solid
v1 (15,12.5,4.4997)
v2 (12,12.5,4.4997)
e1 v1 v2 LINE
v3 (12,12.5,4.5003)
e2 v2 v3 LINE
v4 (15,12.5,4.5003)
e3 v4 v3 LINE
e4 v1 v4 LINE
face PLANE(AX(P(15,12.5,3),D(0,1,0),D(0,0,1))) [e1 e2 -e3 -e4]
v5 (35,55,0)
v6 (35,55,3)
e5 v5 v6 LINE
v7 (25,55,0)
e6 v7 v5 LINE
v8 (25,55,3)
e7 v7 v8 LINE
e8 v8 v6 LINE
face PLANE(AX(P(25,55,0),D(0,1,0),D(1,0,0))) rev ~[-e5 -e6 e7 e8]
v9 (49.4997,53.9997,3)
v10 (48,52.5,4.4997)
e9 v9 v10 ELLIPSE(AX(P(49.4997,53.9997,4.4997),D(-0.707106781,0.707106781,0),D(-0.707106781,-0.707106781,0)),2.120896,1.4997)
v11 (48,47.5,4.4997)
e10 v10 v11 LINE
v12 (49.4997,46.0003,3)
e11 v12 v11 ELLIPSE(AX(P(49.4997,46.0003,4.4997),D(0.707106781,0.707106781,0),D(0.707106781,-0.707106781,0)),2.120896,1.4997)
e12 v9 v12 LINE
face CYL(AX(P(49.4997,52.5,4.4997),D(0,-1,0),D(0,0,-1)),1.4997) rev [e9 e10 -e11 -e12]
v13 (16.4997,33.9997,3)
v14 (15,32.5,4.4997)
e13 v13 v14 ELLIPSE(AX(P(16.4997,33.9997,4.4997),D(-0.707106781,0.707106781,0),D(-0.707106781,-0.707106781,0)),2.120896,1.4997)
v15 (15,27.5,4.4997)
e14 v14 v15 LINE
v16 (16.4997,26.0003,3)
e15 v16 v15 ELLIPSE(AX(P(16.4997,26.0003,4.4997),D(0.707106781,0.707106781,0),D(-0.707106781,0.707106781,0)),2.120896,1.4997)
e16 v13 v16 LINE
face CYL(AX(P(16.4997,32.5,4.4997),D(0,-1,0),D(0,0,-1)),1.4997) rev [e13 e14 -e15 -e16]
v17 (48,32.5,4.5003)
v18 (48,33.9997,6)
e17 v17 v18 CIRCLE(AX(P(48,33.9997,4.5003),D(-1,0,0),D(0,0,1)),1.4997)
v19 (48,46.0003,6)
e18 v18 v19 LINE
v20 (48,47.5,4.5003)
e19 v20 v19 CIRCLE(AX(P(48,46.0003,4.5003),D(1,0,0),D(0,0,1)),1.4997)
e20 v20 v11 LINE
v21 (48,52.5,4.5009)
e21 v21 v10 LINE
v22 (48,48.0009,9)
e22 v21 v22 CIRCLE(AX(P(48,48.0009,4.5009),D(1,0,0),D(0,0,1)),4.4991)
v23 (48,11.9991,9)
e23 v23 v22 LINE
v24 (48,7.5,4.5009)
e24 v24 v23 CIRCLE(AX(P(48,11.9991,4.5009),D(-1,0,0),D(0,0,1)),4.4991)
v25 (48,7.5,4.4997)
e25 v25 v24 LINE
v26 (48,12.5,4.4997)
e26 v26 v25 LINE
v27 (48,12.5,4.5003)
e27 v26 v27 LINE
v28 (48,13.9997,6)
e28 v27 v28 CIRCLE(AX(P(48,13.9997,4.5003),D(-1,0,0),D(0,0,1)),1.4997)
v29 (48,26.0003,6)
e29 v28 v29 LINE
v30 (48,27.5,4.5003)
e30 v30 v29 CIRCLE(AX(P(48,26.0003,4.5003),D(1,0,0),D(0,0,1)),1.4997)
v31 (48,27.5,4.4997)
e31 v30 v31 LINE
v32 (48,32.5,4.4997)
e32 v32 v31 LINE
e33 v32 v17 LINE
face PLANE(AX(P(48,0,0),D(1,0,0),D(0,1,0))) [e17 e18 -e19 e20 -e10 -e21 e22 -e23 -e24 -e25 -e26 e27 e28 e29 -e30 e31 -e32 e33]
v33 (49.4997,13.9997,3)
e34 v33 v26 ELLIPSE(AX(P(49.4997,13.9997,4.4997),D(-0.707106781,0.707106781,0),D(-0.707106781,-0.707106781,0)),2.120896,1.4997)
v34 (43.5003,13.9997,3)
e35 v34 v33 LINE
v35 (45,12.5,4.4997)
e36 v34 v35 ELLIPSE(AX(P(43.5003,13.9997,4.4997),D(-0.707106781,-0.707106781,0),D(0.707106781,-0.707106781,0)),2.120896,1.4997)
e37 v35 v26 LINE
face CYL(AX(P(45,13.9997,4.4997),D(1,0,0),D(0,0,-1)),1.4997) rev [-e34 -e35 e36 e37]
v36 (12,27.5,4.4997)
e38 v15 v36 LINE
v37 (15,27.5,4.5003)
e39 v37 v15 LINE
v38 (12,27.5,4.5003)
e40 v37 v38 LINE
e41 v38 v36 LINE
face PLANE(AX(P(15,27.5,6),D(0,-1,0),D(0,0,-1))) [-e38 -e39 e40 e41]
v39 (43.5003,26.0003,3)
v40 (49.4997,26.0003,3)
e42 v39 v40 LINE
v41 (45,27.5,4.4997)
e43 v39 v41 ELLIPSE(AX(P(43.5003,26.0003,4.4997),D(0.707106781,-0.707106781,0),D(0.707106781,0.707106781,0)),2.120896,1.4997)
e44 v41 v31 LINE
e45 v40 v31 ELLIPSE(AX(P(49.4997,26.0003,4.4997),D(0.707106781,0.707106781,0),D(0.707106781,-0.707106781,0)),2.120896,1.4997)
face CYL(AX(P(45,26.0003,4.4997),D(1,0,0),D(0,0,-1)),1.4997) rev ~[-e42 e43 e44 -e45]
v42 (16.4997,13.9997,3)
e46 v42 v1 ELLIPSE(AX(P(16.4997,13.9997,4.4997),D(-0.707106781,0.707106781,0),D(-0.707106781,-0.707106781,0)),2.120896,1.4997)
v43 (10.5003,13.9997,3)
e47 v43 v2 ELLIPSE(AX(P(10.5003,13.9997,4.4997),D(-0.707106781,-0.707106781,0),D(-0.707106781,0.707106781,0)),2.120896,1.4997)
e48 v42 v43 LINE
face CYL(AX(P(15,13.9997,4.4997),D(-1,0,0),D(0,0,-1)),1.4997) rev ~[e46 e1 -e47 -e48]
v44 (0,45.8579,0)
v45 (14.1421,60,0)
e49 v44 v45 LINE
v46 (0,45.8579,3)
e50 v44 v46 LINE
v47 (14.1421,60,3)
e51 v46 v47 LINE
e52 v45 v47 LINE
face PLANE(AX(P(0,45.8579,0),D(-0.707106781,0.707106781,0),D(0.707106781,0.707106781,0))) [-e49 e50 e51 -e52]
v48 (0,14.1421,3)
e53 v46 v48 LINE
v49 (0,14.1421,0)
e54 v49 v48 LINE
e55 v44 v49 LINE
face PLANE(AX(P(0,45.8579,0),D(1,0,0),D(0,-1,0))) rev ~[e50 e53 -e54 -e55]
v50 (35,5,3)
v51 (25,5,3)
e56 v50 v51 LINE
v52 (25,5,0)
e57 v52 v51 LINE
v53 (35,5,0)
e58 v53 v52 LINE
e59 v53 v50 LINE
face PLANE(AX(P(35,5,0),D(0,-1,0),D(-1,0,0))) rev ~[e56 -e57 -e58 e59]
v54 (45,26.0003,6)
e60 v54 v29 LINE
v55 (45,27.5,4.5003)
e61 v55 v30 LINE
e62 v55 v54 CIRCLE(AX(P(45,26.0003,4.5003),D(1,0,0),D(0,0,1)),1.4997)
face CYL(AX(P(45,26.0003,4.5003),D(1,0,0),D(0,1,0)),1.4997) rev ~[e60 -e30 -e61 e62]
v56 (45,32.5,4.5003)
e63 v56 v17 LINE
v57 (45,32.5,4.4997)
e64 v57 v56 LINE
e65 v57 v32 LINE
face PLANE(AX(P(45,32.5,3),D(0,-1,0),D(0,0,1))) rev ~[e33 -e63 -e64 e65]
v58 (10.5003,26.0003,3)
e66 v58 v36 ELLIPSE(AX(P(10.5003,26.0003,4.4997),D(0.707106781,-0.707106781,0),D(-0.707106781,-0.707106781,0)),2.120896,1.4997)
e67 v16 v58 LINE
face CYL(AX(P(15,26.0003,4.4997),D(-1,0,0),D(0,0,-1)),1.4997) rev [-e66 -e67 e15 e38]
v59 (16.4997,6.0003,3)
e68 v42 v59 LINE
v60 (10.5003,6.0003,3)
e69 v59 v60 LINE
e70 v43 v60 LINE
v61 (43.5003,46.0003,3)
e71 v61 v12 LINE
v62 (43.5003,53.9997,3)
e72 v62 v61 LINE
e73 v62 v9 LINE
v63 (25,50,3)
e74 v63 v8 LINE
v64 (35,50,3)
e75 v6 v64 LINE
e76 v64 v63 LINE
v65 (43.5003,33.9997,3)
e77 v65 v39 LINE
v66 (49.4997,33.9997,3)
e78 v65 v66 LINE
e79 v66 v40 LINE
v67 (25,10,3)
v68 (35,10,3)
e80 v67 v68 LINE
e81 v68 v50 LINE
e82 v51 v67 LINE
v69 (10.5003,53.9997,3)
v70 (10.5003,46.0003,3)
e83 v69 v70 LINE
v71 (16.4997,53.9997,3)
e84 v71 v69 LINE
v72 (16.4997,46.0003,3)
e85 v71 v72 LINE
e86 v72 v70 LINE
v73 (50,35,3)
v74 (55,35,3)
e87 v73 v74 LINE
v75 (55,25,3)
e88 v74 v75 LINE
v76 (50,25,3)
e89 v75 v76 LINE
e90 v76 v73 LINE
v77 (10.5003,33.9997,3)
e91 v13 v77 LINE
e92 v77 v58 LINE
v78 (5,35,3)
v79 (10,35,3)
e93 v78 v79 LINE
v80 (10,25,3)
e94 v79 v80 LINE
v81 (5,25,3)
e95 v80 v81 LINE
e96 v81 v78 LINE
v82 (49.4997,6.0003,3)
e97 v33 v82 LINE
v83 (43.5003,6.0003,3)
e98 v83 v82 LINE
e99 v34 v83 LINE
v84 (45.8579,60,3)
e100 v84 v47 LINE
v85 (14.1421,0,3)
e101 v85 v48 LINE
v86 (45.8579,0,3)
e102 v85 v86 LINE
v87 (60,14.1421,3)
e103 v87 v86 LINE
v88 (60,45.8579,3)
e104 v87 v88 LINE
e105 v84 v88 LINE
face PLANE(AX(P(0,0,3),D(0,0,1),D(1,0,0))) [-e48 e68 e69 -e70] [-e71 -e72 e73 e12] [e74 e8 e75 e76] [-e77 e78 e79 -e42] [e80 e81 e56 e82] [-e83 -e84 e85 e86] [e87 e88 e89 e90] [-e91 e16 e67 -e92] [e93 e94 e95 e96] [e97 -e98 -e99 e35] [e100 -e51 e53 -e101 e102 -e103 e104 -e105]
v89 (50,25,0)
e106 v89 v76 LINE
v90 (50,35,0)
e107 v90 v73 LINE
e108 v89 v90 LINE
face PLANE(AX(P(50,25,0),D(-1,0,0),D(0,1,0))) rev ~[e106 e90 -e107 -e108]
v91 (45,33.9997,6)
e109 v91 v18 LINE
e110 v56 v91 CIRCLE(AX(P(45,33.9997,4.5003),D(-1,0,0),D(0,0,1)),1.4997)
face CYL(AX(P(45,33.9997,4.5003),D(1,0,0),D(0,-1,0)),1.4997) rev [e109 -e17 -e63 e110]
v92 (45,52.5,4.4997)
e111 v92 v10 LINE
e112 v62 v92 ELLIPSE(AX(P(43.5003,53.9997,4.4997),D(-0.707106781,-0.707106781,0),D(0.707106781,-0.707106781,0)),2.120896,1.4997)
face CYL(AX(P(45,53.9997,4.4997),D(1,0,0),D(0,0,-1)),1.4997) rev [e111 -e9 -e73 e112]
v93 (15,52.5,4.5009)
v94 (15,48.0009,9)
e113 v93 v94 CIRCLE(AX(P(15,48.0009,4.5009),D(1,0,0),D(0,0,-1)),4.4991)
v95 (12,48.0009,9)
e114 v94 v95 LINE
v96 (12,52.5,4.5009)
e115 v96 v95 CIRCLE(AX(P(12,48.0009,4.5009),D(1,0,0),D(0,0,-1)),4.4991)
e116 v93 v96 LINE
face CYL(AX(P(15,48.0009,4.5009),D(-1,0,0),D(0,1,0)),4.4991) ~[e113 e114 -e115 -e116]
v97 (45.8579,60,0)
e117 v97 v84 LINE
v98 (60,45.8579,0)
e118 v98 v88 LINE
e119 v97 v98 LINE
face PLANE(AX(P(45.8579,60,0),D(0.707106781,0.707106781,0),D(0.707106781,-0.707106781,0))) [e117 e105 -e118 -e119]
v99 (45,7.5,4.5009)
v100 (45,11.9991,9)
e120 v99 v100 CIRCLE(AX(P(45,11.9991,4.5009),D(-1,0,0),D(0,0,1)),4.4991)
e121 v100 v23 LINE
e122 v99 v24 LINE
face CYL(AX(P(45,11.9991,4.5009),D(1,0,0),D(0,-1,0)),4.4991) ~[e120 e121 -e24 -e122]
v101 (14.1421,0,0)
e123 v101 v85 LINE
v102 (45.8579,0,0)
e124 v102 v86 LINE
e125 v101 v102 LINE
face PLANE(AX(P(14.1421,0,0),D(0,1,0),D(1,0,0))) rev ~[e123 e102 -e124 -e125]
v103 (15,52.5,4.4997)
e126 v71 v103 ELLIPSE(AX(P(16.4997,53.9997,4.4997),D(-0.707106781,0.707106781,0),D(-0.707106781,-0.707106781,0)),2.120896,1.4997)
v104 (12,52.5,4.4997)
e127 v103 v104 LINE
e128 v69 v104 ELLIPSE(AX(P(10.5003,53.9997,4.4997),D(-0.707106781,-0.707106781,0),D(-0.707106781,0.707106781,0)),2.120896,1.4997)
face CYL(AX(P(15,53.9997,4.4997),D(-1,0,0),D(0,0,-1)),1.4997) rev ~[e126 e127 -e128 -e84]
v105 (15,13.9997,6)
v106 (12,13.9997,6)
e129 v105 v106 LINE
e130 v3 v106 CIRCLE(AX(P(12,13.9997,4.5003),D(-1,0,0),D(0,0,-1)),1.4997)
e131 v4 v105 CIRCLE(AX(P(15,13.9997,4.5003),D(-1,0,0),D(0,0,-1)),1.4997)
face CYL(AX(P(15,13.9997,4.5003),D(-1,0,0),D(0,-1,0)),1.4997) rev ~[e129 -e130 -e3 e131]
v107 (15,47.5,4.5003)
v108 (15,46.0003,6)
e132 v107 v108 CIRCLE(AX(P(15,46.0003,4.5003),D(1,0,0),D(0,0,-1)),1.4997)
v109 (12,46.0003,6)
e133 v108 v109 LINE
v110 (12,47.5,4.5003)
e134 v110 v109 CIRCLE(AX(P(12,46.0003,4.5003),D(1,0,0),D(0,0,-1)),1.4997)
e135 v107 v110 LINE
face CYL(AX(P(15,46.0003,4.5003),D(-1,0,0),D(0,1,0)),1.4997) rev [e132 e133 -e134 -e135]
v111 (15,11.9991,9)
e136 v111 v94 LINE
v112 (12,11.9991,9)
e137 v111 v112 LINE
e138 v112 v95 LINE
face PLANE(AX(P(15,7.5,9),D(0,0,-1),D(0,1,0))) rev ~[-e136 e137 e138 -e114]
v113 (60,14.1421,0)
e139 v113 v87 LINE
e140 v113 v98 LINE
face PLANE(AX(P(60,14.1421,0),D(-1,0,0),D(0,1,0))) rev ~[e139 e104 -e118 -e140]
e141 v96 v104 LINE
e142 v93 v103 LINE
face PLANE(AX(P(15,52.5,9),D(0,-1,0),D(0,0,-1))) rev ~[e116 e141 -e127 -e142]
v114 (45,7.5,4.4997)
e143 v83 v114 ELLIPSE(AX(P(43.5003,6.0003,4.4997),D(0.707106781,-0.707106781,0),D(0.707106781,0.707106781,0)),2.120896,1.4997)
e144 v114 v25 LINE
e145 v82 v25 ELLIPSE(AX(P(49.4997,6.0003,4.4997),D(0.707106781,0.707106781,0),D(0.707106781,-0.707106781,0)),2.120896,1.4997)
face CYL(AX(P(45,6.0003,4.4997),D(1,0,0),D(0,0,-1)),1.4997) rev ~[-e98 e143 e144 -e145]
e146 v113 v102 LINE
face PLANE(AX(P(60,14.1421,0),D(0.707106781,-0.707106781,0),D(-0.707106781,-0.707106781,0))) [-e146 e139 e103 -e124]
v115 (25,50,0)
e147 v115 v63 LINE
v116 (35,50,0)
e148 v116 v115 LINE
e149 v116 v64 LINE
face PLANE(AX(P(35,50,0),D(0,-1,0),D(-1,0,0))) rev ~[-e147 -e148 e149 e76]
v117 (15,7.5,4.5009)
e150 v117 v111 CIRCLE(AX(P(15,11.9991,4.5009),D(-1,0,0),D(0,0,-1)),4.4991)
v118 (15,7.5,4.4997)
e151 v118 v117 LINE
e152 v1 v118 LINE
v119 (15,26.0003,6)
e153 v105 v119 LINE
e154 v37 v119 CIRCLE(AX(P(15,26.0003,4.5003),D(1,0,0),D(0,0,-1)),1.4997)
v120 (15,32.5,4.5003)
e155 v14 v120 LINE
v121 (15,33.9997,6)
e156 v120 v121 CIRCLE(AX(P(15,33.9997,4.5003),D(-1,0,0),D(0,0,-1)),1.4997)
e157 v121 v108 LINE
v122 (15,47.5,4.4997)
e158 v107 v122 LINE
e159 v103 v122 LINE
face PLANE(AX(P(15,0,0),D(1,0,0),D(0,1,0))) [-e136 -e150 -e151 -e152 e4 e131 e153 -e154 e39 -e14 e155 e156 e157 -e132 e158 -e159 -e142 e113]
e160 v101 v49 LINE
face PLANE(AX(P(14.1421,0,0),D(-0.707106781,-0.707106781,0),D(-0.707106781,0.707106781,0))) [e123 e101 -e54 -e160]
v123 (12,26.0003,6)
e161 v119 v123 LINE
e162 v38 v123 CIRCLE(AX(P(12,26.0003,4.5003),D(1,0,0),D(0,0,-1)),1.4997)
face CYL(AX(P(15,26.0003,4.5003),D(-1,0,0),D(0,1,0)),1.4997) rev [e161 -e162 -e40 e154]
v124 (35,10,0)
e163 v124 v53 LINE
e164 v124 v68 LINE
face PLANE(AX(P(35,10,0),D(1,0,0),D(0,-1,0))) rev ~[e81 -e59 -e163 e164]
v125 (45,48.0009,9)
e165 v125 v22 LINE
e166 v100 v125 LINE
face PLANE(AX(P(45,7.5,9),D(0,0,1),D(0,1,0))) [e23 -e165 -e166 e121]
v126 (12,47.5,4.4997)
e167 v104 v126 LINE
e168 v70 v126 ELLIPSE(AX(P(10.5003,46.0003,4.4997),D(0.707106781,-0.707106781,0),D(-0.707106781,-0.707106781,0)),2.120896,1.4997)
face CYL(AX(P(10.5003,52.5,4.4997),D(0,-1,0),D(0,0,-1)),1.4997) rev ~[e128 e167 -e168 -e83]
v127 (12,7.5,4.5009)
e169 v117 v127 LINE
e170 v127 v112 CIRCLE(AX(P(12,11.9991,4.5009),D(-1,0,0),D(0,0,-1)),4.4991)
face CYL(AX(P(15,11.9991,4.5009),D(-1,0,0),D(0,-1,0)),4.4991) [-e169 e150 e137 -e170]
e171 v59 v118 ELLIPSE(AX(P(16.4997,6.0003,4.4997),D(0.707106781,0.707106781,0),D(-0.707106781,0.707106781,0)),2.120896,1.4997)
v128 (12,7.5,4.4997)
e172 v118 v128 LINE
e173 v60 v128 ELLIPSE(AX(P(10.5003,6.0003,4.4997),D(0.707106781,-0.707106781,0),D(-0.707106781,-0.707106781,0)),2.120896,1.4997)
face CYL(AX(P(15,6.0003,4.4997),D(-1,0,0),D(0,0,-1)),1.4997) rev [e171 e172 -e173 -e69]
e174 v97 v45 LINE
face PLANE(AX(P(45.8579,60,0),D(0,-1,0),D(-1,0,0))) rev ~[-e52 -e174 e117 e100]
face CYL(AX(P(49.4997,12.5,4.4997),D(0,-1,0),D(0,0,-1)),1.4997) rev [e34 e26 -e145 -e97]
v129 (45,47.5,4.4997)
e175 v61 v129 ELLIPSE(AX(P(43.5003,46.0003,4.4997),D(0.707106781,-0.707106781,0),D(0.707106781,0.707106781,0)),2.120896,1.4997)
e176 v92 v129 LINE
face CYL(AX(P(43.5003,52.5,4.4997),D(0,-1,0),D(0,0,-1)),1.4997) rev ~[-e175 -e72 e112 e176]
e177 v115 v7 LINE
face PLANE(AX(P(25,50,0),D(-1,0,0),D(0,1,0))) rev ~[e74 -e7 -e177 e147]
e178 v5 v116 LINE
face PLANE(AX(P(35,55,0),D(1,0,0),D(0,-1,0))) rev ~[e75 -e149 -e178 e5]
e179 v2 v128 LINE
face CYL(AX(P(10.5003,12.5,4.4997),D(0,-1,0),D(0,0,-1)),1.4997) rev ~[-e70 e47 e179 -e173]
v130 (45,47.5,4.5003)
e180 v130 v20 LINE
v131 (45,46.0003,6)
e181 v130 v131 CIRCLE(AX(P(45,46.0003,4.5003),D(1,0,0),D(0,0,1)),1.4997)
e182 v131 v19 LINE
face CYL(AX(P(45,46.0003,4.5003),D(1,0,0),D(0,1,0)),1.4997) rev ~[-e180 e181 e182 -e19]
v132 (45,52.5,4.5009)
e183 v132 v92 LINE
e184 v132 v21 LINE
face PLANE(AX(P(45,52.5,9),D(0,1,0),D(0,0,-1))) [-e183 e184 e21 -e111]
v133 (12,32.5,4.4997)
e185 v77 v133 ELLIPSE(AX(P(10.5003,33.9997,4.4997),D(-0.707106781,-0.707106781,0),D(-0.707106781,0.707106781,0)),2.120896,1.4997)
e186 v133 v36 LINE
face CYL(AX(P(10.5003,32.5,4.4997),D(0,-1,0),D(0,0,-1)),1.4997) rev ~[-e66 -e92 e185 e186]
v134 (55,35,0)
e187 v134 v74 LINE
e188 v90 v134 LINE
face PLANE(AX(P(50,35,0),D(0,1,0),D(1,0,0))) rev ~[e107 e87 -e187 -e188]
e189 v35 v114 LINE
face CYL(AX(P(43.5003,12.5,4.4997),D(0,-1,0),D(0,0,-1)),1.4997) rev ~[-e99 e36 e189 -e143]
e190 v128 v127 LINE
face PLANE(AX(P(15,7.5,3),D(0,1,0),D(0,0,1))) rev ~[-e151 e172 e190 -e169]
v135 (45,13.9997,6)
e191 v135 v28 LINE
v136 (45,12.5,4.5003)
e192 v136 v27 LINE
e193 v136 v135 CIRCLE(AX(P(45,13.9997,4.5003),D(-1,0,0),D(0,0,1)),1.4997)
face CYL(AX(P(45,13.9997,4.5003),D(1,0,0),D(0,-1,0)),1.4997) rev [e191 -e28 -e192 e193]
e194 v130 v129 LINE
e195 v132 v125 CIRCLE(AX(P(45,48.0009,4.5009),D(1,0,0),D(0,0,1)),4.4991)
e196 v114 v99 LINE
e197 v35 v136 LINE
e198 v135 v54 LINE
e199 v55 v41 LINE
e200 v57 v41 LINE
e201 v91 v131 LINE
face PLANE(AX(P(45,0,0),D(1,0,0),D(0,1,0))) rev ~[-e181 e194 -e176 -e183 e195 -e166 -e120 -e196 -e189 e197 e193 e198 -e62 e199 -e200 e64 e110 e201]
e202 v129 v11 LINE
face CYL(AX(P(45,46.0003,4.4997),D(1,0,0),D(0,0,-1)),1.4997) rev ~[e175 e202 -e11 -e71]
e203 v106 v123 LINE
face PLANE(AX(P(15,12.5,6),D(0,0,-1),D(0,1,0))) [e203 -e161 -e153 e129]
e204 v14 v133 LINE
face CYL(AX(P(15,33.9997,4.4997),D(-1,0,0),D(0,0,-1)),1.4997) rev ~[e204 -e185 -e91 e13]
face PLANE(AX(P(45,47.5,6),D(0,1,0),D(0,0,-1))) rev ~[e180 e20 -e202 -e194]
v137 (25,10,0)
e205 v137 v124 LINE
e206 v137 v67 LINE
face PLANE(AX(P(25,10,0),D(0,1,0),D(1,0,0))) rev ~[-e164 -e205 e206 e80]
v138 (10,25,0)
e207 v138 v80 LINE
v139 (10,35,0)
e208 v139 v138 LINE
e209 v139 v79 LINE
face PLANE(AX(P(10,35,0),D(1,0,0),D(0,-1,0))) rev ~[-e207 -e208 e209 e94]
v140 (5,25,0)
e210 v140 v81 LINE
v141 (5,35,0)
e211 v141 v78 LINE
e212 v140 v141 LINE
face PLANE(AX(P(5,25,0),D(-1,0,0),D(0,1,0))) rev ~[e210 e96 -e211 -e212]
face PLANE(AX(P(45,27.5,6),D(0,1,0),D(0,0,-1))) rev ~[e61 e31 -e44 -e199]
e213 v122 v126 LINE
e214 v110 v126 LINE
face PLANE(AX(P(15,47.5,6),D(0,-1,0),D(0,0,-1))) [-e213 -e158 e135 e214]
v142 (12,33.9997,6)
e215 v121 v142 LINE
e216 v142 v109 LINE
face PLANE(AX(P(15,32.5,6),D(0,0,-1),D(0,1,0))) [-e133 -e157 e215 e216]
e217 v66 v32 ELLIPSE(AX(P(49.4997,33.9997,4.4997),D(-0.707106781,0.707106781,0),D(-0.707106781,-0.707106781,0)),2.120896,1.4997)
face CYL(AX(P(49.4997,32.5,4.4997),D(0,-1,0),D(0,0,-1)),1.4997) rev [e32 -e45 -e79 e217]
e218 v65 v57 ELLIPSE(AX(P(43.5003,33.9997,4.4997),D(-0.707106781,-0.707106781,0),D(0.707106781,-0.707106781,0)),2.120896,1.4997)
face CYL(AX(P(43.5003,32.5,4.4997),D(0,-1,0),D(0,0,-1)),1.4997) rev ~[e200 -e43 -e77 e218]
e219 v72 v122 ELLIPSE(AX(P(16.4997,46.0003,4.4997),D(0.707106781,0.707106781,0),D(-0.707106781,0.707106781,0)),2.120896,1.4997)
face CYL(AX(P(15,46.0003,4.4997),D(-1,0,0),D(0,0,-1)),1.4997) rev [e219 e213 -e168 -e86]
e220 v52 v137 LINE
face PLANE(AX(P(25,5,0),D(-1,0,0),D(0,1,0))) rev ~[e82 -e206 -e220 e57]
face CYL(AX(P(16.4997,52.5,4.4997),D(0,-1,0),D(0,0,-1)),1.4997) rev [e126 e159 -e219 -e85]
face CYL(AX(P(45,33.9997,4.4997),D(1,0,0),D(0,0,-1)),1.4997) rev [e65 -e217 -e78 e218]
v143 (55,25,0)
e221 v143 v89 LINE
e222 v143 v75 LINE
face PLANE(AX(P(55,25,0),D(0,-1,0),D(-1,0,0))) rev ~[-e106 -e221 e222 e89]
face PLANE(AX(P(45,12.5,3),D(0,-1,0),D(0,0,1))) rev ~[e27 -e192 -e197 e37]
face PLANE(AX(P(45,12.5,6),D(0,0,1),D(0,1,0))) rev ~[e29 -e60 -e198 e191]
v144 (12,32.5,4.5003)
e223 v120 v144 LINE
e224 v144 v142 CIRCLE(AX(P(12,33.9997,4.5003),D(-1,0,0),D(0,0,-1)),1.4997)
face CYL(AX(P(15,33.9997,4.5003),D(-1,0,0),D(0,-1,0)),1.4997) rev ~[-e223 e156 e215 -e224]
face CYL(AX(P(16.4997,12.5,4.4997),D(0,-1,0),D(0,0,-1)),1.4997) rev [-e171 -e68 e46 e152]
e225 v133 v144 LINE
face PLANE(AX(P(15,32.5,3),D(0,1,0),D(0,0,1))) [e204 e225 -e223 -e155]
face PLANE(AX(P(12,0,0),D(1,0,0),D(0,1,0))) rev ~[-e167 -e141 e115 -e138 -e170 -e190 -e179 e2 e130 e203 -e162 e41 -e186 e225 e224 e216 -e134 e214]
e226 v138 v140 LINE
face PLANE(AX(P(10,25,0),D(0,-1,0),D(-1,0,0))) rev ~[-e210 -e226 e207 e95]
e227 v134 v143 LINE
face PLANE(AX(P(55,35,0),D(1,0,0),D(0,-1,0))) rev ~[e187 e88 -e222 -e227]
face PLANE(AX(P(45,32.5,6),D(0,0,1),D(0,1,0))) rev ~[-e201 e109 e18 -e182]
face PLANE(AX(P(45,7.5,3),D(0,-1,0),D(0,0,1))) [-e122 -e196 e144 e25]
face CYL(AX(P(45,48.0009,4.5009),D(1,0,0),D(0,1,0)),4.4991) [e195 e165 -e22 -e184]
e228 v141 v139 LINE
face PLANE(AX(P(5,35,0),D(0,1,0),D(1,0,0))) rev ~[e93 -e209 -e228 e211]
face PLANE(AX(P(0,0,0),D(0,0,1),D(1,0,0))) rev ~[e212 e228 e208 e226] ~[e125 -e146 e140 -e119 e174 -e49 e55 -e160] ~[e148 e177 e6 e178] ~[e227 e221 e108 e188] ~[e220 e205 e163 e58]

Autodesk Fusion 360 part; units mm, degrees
sketch "Sketch1" plane through (0, 0, 0) normal (0, 0, 1) x (1, 0, 0)
  line L0 (0, 0) -> (60, 0)
  line L1 (60, 0) -> (60, 60)
  line L2 (60, 60) -> (0, 60)
  line L3 (0, 60) -> (0, 0)
  line L4 (0, 45.8579) -> (14.1421, 60)
  line L5 (0, 45.8579) -> (19.799, 45.8579) construction
  line L6 (14.1421, 0) -> (0, 14.1421)
  line L7 (14.1421, 0) -> (24.1421, 0) construction
  line L8 (60, 14.1421) -> (45.8579, 0)
  line L9 (60, 14.1421) -> (83.1045, 14.1421) construction
  line L10 (45.8579, 60) -> (60, 45.8579)
  line L11 (0, 30) -> (60, 30) construction
  line L12 (30, 60) -> (30, 0) construction
  line L13 (25, 55) -> (35, 55)
  line L14 (35, 55) -> (35, 50)
  line L15 (35, 50) -> (25, 50)
  line L16 (25, 50) -> (25, 55)
  line L17 (5, 25) -> (5, 35)
  line L18 (10, 35) -> (10, 25)
  line L19 (10, 25) -> (5, 25)
  line L20 (5, 35) -> (10, 35)
  line L21 (35, 5) -> (25, 5)
  line L22 (25, 10) -> (35, 10)
  line L23 (35, 10) -> (35, 5)
  line L24 (25, 5) -> (25, 10)
  line L25 (55, 35) -> (55, 25)
  line L26 (50, 25) -> (50, 35)
  line L27 (50, 35) -> (55, 35)
  line L28 (55, 25) -> (50, 25)
  point P0 (30, 30)
  dimension "d1" = 60
  dimension "d2" = 60
  dimension "d3" = 45
  dimension "d4" = 135
  dimension "d5" = 135
  dimension "d6" = 90
  dimension "d7" = 20
  dimension "d8" = 10
  dimension "d9" = 5
  dimension "d10" = 5
  dimension "d11" = 20
  dimension "d13" = 360
extrude "Extrude1" add sketch "Sketch1" along normal blind 3 contours L0 L1 L2 L3 L4 L6 L8 L10
sketch "Sketch2" plane through (0, 0, 3) normal (0, 0, 1) x (-1, 0, 0)
  line L0 (-5, -25) -> (-5, -35)
  line L1 (-5, -35) -> (-10, -35)
  line L2 (-10, -35) -> (-10, -25)
  line L3 (-10, -25) -> (-5, -25)
  line L4 (-55, -35) -> (-55, -25)
  line L5 (-55, -25) -> (-50, -25)
  line L6 (-50, -25) -> (-50, -35)
  line L7 (-50, -35) -> (-55, -35)
  line L8 (-35, -5) -> (-25, -5)
  line L9 (-25, -5) -> (-25, -10)
  line L10 (-25, -10) -> (-35, -10)
  line L11 (-35, -10) -> (-35, -5)
  line L12 (-35, -50) -> (-25, -50)
  line L13 (-25, -50) -> (-25, -55)
  line L14 (-25, -55) -> (-35, -55)
  line L15 (-35, -55) -> (-35, -50)
  line L16 (0, -45.8579) -> (0, -14.1421)
  line L17 (0, -14.1421) -> (-14.1421, 0)
  line L18 (-14.1421, 0) -> (-45.8579, 0)
  line L19 (-45.8579, 0) -> (-60, -14.1421)
  line L20 (-60, -14.1421) -> (-60, -45.8579)
  line L21 (-60, -45.8579) -> (-45.8579, -60)
  line L22 (-45.8579, -60) -> (-14.1421, -60)
  line L23 (-14.1421, -60) -> (0, -45.8579)
ref_plane "WorkPlane1" through (30, 0, 0) normal (1, 0, 0) x (0, 1, 0)
sketch "Sketch3" plane through (30, 0, 0) normal (1, 0, 0) x (0, 1, 0)
  line L0 (52.5, 3) -> (7.5, 3)
  line L1 (7.5, 3) -> (7.5, 9)
  line L2 (7.5, 9) -> (52.5, 9)
  line L3 (52.5, 9) -> (52.5, 3)
  line L4 (47.5, 3) -> (32.5, 3)
  line L5 (32.5, 3) -> (32.5, 6)
  line L6 (32.5, 6) -> (47.5, 6)
  line L7 (47.5, 6) -> (47.5, 3)
  line L8 (27.5, 3) -> (12.5, 3)
  line L9 (12.5, 3) -> (12.5, 6)
  line L10 (12.5, 6) -> (27.5, 6)
  line L11 (27.5, 6) -> (27.5, 3)
  line L12 (60, 3) -> (0, 3)
  line L13 (0, 3) -> (0, 0)
  line L14 (0, 0) -> (60, 0)
  line L15 (60, 0) -> (60, 3)
  point P0 (30, 0)
  dimension "d17" = 45
  dimension "d18" = 6
  dimension "d21" = 3
  dimension "d22" = 5
  dimension "d23" = 5
  dimension "d24" = 5
  dimension "d25" = 22.5
extrude "Extrude2" add sketch "Sketch3" along normal blind 3 from surface at 15 contours L0 L1 L2 L3 L5 L6 L7 L9 L10 L11 L12
extrude "Extrude3" add sketch "Sketch3" against normal blind 3 from surface at -15 contours L0 L1 L2 L3 L5 L6 L7 L9 L10 L11 L12
fillet "Fillet1" radius 1.5 24 edges at (13.5, 27.5, 3) (15, 30, 3) (13.5, 47.5, 3) (15, 50, 3) (13.5, 7.5, 3) (15, 10, 3) (46.5, 7.5, 3) (48, 10, 3) (46.5, 27.5, 3) (48, 30, 3) (46.5, 47.5, 3) (48, 50, 3) (46.5, 52.5, 3) (45, 50, 3) (46.5, 32.5, 3) (45, 30, 3) (46.5, 12.5, 3) (45, 10, 3) (13.5, 52.5, 3) (12, 50, 3) (13.5, 32.5, 3) (12, 30, 3) (13.5, 12.5, 3) (12, 10, 3)
fillet "Fillet1" radius 1.5 8 edges at (13.5, 12.5, 6) (13.5, 47.5, 6) (46.5, 27.5, 6) (46.5, 47.5, 6) (13.5, 27.5, 6) (13.5, 32.5, 6) (46.5, 32.5, 6) (46.5, 12.5, 6)
fillet "Fillet1" radius 4.5 4 edges at (13.5, 52.5, 9) (13.5, 7.5, 9) (46.5, 7.5, 9) (46.5, 52.5, 9)
equation "d1 = d2"
equation "d9 = d8 / 2"
equation "d23 = d22"
equation "d24 = d22"
equation "d25 = d17 / 2"
